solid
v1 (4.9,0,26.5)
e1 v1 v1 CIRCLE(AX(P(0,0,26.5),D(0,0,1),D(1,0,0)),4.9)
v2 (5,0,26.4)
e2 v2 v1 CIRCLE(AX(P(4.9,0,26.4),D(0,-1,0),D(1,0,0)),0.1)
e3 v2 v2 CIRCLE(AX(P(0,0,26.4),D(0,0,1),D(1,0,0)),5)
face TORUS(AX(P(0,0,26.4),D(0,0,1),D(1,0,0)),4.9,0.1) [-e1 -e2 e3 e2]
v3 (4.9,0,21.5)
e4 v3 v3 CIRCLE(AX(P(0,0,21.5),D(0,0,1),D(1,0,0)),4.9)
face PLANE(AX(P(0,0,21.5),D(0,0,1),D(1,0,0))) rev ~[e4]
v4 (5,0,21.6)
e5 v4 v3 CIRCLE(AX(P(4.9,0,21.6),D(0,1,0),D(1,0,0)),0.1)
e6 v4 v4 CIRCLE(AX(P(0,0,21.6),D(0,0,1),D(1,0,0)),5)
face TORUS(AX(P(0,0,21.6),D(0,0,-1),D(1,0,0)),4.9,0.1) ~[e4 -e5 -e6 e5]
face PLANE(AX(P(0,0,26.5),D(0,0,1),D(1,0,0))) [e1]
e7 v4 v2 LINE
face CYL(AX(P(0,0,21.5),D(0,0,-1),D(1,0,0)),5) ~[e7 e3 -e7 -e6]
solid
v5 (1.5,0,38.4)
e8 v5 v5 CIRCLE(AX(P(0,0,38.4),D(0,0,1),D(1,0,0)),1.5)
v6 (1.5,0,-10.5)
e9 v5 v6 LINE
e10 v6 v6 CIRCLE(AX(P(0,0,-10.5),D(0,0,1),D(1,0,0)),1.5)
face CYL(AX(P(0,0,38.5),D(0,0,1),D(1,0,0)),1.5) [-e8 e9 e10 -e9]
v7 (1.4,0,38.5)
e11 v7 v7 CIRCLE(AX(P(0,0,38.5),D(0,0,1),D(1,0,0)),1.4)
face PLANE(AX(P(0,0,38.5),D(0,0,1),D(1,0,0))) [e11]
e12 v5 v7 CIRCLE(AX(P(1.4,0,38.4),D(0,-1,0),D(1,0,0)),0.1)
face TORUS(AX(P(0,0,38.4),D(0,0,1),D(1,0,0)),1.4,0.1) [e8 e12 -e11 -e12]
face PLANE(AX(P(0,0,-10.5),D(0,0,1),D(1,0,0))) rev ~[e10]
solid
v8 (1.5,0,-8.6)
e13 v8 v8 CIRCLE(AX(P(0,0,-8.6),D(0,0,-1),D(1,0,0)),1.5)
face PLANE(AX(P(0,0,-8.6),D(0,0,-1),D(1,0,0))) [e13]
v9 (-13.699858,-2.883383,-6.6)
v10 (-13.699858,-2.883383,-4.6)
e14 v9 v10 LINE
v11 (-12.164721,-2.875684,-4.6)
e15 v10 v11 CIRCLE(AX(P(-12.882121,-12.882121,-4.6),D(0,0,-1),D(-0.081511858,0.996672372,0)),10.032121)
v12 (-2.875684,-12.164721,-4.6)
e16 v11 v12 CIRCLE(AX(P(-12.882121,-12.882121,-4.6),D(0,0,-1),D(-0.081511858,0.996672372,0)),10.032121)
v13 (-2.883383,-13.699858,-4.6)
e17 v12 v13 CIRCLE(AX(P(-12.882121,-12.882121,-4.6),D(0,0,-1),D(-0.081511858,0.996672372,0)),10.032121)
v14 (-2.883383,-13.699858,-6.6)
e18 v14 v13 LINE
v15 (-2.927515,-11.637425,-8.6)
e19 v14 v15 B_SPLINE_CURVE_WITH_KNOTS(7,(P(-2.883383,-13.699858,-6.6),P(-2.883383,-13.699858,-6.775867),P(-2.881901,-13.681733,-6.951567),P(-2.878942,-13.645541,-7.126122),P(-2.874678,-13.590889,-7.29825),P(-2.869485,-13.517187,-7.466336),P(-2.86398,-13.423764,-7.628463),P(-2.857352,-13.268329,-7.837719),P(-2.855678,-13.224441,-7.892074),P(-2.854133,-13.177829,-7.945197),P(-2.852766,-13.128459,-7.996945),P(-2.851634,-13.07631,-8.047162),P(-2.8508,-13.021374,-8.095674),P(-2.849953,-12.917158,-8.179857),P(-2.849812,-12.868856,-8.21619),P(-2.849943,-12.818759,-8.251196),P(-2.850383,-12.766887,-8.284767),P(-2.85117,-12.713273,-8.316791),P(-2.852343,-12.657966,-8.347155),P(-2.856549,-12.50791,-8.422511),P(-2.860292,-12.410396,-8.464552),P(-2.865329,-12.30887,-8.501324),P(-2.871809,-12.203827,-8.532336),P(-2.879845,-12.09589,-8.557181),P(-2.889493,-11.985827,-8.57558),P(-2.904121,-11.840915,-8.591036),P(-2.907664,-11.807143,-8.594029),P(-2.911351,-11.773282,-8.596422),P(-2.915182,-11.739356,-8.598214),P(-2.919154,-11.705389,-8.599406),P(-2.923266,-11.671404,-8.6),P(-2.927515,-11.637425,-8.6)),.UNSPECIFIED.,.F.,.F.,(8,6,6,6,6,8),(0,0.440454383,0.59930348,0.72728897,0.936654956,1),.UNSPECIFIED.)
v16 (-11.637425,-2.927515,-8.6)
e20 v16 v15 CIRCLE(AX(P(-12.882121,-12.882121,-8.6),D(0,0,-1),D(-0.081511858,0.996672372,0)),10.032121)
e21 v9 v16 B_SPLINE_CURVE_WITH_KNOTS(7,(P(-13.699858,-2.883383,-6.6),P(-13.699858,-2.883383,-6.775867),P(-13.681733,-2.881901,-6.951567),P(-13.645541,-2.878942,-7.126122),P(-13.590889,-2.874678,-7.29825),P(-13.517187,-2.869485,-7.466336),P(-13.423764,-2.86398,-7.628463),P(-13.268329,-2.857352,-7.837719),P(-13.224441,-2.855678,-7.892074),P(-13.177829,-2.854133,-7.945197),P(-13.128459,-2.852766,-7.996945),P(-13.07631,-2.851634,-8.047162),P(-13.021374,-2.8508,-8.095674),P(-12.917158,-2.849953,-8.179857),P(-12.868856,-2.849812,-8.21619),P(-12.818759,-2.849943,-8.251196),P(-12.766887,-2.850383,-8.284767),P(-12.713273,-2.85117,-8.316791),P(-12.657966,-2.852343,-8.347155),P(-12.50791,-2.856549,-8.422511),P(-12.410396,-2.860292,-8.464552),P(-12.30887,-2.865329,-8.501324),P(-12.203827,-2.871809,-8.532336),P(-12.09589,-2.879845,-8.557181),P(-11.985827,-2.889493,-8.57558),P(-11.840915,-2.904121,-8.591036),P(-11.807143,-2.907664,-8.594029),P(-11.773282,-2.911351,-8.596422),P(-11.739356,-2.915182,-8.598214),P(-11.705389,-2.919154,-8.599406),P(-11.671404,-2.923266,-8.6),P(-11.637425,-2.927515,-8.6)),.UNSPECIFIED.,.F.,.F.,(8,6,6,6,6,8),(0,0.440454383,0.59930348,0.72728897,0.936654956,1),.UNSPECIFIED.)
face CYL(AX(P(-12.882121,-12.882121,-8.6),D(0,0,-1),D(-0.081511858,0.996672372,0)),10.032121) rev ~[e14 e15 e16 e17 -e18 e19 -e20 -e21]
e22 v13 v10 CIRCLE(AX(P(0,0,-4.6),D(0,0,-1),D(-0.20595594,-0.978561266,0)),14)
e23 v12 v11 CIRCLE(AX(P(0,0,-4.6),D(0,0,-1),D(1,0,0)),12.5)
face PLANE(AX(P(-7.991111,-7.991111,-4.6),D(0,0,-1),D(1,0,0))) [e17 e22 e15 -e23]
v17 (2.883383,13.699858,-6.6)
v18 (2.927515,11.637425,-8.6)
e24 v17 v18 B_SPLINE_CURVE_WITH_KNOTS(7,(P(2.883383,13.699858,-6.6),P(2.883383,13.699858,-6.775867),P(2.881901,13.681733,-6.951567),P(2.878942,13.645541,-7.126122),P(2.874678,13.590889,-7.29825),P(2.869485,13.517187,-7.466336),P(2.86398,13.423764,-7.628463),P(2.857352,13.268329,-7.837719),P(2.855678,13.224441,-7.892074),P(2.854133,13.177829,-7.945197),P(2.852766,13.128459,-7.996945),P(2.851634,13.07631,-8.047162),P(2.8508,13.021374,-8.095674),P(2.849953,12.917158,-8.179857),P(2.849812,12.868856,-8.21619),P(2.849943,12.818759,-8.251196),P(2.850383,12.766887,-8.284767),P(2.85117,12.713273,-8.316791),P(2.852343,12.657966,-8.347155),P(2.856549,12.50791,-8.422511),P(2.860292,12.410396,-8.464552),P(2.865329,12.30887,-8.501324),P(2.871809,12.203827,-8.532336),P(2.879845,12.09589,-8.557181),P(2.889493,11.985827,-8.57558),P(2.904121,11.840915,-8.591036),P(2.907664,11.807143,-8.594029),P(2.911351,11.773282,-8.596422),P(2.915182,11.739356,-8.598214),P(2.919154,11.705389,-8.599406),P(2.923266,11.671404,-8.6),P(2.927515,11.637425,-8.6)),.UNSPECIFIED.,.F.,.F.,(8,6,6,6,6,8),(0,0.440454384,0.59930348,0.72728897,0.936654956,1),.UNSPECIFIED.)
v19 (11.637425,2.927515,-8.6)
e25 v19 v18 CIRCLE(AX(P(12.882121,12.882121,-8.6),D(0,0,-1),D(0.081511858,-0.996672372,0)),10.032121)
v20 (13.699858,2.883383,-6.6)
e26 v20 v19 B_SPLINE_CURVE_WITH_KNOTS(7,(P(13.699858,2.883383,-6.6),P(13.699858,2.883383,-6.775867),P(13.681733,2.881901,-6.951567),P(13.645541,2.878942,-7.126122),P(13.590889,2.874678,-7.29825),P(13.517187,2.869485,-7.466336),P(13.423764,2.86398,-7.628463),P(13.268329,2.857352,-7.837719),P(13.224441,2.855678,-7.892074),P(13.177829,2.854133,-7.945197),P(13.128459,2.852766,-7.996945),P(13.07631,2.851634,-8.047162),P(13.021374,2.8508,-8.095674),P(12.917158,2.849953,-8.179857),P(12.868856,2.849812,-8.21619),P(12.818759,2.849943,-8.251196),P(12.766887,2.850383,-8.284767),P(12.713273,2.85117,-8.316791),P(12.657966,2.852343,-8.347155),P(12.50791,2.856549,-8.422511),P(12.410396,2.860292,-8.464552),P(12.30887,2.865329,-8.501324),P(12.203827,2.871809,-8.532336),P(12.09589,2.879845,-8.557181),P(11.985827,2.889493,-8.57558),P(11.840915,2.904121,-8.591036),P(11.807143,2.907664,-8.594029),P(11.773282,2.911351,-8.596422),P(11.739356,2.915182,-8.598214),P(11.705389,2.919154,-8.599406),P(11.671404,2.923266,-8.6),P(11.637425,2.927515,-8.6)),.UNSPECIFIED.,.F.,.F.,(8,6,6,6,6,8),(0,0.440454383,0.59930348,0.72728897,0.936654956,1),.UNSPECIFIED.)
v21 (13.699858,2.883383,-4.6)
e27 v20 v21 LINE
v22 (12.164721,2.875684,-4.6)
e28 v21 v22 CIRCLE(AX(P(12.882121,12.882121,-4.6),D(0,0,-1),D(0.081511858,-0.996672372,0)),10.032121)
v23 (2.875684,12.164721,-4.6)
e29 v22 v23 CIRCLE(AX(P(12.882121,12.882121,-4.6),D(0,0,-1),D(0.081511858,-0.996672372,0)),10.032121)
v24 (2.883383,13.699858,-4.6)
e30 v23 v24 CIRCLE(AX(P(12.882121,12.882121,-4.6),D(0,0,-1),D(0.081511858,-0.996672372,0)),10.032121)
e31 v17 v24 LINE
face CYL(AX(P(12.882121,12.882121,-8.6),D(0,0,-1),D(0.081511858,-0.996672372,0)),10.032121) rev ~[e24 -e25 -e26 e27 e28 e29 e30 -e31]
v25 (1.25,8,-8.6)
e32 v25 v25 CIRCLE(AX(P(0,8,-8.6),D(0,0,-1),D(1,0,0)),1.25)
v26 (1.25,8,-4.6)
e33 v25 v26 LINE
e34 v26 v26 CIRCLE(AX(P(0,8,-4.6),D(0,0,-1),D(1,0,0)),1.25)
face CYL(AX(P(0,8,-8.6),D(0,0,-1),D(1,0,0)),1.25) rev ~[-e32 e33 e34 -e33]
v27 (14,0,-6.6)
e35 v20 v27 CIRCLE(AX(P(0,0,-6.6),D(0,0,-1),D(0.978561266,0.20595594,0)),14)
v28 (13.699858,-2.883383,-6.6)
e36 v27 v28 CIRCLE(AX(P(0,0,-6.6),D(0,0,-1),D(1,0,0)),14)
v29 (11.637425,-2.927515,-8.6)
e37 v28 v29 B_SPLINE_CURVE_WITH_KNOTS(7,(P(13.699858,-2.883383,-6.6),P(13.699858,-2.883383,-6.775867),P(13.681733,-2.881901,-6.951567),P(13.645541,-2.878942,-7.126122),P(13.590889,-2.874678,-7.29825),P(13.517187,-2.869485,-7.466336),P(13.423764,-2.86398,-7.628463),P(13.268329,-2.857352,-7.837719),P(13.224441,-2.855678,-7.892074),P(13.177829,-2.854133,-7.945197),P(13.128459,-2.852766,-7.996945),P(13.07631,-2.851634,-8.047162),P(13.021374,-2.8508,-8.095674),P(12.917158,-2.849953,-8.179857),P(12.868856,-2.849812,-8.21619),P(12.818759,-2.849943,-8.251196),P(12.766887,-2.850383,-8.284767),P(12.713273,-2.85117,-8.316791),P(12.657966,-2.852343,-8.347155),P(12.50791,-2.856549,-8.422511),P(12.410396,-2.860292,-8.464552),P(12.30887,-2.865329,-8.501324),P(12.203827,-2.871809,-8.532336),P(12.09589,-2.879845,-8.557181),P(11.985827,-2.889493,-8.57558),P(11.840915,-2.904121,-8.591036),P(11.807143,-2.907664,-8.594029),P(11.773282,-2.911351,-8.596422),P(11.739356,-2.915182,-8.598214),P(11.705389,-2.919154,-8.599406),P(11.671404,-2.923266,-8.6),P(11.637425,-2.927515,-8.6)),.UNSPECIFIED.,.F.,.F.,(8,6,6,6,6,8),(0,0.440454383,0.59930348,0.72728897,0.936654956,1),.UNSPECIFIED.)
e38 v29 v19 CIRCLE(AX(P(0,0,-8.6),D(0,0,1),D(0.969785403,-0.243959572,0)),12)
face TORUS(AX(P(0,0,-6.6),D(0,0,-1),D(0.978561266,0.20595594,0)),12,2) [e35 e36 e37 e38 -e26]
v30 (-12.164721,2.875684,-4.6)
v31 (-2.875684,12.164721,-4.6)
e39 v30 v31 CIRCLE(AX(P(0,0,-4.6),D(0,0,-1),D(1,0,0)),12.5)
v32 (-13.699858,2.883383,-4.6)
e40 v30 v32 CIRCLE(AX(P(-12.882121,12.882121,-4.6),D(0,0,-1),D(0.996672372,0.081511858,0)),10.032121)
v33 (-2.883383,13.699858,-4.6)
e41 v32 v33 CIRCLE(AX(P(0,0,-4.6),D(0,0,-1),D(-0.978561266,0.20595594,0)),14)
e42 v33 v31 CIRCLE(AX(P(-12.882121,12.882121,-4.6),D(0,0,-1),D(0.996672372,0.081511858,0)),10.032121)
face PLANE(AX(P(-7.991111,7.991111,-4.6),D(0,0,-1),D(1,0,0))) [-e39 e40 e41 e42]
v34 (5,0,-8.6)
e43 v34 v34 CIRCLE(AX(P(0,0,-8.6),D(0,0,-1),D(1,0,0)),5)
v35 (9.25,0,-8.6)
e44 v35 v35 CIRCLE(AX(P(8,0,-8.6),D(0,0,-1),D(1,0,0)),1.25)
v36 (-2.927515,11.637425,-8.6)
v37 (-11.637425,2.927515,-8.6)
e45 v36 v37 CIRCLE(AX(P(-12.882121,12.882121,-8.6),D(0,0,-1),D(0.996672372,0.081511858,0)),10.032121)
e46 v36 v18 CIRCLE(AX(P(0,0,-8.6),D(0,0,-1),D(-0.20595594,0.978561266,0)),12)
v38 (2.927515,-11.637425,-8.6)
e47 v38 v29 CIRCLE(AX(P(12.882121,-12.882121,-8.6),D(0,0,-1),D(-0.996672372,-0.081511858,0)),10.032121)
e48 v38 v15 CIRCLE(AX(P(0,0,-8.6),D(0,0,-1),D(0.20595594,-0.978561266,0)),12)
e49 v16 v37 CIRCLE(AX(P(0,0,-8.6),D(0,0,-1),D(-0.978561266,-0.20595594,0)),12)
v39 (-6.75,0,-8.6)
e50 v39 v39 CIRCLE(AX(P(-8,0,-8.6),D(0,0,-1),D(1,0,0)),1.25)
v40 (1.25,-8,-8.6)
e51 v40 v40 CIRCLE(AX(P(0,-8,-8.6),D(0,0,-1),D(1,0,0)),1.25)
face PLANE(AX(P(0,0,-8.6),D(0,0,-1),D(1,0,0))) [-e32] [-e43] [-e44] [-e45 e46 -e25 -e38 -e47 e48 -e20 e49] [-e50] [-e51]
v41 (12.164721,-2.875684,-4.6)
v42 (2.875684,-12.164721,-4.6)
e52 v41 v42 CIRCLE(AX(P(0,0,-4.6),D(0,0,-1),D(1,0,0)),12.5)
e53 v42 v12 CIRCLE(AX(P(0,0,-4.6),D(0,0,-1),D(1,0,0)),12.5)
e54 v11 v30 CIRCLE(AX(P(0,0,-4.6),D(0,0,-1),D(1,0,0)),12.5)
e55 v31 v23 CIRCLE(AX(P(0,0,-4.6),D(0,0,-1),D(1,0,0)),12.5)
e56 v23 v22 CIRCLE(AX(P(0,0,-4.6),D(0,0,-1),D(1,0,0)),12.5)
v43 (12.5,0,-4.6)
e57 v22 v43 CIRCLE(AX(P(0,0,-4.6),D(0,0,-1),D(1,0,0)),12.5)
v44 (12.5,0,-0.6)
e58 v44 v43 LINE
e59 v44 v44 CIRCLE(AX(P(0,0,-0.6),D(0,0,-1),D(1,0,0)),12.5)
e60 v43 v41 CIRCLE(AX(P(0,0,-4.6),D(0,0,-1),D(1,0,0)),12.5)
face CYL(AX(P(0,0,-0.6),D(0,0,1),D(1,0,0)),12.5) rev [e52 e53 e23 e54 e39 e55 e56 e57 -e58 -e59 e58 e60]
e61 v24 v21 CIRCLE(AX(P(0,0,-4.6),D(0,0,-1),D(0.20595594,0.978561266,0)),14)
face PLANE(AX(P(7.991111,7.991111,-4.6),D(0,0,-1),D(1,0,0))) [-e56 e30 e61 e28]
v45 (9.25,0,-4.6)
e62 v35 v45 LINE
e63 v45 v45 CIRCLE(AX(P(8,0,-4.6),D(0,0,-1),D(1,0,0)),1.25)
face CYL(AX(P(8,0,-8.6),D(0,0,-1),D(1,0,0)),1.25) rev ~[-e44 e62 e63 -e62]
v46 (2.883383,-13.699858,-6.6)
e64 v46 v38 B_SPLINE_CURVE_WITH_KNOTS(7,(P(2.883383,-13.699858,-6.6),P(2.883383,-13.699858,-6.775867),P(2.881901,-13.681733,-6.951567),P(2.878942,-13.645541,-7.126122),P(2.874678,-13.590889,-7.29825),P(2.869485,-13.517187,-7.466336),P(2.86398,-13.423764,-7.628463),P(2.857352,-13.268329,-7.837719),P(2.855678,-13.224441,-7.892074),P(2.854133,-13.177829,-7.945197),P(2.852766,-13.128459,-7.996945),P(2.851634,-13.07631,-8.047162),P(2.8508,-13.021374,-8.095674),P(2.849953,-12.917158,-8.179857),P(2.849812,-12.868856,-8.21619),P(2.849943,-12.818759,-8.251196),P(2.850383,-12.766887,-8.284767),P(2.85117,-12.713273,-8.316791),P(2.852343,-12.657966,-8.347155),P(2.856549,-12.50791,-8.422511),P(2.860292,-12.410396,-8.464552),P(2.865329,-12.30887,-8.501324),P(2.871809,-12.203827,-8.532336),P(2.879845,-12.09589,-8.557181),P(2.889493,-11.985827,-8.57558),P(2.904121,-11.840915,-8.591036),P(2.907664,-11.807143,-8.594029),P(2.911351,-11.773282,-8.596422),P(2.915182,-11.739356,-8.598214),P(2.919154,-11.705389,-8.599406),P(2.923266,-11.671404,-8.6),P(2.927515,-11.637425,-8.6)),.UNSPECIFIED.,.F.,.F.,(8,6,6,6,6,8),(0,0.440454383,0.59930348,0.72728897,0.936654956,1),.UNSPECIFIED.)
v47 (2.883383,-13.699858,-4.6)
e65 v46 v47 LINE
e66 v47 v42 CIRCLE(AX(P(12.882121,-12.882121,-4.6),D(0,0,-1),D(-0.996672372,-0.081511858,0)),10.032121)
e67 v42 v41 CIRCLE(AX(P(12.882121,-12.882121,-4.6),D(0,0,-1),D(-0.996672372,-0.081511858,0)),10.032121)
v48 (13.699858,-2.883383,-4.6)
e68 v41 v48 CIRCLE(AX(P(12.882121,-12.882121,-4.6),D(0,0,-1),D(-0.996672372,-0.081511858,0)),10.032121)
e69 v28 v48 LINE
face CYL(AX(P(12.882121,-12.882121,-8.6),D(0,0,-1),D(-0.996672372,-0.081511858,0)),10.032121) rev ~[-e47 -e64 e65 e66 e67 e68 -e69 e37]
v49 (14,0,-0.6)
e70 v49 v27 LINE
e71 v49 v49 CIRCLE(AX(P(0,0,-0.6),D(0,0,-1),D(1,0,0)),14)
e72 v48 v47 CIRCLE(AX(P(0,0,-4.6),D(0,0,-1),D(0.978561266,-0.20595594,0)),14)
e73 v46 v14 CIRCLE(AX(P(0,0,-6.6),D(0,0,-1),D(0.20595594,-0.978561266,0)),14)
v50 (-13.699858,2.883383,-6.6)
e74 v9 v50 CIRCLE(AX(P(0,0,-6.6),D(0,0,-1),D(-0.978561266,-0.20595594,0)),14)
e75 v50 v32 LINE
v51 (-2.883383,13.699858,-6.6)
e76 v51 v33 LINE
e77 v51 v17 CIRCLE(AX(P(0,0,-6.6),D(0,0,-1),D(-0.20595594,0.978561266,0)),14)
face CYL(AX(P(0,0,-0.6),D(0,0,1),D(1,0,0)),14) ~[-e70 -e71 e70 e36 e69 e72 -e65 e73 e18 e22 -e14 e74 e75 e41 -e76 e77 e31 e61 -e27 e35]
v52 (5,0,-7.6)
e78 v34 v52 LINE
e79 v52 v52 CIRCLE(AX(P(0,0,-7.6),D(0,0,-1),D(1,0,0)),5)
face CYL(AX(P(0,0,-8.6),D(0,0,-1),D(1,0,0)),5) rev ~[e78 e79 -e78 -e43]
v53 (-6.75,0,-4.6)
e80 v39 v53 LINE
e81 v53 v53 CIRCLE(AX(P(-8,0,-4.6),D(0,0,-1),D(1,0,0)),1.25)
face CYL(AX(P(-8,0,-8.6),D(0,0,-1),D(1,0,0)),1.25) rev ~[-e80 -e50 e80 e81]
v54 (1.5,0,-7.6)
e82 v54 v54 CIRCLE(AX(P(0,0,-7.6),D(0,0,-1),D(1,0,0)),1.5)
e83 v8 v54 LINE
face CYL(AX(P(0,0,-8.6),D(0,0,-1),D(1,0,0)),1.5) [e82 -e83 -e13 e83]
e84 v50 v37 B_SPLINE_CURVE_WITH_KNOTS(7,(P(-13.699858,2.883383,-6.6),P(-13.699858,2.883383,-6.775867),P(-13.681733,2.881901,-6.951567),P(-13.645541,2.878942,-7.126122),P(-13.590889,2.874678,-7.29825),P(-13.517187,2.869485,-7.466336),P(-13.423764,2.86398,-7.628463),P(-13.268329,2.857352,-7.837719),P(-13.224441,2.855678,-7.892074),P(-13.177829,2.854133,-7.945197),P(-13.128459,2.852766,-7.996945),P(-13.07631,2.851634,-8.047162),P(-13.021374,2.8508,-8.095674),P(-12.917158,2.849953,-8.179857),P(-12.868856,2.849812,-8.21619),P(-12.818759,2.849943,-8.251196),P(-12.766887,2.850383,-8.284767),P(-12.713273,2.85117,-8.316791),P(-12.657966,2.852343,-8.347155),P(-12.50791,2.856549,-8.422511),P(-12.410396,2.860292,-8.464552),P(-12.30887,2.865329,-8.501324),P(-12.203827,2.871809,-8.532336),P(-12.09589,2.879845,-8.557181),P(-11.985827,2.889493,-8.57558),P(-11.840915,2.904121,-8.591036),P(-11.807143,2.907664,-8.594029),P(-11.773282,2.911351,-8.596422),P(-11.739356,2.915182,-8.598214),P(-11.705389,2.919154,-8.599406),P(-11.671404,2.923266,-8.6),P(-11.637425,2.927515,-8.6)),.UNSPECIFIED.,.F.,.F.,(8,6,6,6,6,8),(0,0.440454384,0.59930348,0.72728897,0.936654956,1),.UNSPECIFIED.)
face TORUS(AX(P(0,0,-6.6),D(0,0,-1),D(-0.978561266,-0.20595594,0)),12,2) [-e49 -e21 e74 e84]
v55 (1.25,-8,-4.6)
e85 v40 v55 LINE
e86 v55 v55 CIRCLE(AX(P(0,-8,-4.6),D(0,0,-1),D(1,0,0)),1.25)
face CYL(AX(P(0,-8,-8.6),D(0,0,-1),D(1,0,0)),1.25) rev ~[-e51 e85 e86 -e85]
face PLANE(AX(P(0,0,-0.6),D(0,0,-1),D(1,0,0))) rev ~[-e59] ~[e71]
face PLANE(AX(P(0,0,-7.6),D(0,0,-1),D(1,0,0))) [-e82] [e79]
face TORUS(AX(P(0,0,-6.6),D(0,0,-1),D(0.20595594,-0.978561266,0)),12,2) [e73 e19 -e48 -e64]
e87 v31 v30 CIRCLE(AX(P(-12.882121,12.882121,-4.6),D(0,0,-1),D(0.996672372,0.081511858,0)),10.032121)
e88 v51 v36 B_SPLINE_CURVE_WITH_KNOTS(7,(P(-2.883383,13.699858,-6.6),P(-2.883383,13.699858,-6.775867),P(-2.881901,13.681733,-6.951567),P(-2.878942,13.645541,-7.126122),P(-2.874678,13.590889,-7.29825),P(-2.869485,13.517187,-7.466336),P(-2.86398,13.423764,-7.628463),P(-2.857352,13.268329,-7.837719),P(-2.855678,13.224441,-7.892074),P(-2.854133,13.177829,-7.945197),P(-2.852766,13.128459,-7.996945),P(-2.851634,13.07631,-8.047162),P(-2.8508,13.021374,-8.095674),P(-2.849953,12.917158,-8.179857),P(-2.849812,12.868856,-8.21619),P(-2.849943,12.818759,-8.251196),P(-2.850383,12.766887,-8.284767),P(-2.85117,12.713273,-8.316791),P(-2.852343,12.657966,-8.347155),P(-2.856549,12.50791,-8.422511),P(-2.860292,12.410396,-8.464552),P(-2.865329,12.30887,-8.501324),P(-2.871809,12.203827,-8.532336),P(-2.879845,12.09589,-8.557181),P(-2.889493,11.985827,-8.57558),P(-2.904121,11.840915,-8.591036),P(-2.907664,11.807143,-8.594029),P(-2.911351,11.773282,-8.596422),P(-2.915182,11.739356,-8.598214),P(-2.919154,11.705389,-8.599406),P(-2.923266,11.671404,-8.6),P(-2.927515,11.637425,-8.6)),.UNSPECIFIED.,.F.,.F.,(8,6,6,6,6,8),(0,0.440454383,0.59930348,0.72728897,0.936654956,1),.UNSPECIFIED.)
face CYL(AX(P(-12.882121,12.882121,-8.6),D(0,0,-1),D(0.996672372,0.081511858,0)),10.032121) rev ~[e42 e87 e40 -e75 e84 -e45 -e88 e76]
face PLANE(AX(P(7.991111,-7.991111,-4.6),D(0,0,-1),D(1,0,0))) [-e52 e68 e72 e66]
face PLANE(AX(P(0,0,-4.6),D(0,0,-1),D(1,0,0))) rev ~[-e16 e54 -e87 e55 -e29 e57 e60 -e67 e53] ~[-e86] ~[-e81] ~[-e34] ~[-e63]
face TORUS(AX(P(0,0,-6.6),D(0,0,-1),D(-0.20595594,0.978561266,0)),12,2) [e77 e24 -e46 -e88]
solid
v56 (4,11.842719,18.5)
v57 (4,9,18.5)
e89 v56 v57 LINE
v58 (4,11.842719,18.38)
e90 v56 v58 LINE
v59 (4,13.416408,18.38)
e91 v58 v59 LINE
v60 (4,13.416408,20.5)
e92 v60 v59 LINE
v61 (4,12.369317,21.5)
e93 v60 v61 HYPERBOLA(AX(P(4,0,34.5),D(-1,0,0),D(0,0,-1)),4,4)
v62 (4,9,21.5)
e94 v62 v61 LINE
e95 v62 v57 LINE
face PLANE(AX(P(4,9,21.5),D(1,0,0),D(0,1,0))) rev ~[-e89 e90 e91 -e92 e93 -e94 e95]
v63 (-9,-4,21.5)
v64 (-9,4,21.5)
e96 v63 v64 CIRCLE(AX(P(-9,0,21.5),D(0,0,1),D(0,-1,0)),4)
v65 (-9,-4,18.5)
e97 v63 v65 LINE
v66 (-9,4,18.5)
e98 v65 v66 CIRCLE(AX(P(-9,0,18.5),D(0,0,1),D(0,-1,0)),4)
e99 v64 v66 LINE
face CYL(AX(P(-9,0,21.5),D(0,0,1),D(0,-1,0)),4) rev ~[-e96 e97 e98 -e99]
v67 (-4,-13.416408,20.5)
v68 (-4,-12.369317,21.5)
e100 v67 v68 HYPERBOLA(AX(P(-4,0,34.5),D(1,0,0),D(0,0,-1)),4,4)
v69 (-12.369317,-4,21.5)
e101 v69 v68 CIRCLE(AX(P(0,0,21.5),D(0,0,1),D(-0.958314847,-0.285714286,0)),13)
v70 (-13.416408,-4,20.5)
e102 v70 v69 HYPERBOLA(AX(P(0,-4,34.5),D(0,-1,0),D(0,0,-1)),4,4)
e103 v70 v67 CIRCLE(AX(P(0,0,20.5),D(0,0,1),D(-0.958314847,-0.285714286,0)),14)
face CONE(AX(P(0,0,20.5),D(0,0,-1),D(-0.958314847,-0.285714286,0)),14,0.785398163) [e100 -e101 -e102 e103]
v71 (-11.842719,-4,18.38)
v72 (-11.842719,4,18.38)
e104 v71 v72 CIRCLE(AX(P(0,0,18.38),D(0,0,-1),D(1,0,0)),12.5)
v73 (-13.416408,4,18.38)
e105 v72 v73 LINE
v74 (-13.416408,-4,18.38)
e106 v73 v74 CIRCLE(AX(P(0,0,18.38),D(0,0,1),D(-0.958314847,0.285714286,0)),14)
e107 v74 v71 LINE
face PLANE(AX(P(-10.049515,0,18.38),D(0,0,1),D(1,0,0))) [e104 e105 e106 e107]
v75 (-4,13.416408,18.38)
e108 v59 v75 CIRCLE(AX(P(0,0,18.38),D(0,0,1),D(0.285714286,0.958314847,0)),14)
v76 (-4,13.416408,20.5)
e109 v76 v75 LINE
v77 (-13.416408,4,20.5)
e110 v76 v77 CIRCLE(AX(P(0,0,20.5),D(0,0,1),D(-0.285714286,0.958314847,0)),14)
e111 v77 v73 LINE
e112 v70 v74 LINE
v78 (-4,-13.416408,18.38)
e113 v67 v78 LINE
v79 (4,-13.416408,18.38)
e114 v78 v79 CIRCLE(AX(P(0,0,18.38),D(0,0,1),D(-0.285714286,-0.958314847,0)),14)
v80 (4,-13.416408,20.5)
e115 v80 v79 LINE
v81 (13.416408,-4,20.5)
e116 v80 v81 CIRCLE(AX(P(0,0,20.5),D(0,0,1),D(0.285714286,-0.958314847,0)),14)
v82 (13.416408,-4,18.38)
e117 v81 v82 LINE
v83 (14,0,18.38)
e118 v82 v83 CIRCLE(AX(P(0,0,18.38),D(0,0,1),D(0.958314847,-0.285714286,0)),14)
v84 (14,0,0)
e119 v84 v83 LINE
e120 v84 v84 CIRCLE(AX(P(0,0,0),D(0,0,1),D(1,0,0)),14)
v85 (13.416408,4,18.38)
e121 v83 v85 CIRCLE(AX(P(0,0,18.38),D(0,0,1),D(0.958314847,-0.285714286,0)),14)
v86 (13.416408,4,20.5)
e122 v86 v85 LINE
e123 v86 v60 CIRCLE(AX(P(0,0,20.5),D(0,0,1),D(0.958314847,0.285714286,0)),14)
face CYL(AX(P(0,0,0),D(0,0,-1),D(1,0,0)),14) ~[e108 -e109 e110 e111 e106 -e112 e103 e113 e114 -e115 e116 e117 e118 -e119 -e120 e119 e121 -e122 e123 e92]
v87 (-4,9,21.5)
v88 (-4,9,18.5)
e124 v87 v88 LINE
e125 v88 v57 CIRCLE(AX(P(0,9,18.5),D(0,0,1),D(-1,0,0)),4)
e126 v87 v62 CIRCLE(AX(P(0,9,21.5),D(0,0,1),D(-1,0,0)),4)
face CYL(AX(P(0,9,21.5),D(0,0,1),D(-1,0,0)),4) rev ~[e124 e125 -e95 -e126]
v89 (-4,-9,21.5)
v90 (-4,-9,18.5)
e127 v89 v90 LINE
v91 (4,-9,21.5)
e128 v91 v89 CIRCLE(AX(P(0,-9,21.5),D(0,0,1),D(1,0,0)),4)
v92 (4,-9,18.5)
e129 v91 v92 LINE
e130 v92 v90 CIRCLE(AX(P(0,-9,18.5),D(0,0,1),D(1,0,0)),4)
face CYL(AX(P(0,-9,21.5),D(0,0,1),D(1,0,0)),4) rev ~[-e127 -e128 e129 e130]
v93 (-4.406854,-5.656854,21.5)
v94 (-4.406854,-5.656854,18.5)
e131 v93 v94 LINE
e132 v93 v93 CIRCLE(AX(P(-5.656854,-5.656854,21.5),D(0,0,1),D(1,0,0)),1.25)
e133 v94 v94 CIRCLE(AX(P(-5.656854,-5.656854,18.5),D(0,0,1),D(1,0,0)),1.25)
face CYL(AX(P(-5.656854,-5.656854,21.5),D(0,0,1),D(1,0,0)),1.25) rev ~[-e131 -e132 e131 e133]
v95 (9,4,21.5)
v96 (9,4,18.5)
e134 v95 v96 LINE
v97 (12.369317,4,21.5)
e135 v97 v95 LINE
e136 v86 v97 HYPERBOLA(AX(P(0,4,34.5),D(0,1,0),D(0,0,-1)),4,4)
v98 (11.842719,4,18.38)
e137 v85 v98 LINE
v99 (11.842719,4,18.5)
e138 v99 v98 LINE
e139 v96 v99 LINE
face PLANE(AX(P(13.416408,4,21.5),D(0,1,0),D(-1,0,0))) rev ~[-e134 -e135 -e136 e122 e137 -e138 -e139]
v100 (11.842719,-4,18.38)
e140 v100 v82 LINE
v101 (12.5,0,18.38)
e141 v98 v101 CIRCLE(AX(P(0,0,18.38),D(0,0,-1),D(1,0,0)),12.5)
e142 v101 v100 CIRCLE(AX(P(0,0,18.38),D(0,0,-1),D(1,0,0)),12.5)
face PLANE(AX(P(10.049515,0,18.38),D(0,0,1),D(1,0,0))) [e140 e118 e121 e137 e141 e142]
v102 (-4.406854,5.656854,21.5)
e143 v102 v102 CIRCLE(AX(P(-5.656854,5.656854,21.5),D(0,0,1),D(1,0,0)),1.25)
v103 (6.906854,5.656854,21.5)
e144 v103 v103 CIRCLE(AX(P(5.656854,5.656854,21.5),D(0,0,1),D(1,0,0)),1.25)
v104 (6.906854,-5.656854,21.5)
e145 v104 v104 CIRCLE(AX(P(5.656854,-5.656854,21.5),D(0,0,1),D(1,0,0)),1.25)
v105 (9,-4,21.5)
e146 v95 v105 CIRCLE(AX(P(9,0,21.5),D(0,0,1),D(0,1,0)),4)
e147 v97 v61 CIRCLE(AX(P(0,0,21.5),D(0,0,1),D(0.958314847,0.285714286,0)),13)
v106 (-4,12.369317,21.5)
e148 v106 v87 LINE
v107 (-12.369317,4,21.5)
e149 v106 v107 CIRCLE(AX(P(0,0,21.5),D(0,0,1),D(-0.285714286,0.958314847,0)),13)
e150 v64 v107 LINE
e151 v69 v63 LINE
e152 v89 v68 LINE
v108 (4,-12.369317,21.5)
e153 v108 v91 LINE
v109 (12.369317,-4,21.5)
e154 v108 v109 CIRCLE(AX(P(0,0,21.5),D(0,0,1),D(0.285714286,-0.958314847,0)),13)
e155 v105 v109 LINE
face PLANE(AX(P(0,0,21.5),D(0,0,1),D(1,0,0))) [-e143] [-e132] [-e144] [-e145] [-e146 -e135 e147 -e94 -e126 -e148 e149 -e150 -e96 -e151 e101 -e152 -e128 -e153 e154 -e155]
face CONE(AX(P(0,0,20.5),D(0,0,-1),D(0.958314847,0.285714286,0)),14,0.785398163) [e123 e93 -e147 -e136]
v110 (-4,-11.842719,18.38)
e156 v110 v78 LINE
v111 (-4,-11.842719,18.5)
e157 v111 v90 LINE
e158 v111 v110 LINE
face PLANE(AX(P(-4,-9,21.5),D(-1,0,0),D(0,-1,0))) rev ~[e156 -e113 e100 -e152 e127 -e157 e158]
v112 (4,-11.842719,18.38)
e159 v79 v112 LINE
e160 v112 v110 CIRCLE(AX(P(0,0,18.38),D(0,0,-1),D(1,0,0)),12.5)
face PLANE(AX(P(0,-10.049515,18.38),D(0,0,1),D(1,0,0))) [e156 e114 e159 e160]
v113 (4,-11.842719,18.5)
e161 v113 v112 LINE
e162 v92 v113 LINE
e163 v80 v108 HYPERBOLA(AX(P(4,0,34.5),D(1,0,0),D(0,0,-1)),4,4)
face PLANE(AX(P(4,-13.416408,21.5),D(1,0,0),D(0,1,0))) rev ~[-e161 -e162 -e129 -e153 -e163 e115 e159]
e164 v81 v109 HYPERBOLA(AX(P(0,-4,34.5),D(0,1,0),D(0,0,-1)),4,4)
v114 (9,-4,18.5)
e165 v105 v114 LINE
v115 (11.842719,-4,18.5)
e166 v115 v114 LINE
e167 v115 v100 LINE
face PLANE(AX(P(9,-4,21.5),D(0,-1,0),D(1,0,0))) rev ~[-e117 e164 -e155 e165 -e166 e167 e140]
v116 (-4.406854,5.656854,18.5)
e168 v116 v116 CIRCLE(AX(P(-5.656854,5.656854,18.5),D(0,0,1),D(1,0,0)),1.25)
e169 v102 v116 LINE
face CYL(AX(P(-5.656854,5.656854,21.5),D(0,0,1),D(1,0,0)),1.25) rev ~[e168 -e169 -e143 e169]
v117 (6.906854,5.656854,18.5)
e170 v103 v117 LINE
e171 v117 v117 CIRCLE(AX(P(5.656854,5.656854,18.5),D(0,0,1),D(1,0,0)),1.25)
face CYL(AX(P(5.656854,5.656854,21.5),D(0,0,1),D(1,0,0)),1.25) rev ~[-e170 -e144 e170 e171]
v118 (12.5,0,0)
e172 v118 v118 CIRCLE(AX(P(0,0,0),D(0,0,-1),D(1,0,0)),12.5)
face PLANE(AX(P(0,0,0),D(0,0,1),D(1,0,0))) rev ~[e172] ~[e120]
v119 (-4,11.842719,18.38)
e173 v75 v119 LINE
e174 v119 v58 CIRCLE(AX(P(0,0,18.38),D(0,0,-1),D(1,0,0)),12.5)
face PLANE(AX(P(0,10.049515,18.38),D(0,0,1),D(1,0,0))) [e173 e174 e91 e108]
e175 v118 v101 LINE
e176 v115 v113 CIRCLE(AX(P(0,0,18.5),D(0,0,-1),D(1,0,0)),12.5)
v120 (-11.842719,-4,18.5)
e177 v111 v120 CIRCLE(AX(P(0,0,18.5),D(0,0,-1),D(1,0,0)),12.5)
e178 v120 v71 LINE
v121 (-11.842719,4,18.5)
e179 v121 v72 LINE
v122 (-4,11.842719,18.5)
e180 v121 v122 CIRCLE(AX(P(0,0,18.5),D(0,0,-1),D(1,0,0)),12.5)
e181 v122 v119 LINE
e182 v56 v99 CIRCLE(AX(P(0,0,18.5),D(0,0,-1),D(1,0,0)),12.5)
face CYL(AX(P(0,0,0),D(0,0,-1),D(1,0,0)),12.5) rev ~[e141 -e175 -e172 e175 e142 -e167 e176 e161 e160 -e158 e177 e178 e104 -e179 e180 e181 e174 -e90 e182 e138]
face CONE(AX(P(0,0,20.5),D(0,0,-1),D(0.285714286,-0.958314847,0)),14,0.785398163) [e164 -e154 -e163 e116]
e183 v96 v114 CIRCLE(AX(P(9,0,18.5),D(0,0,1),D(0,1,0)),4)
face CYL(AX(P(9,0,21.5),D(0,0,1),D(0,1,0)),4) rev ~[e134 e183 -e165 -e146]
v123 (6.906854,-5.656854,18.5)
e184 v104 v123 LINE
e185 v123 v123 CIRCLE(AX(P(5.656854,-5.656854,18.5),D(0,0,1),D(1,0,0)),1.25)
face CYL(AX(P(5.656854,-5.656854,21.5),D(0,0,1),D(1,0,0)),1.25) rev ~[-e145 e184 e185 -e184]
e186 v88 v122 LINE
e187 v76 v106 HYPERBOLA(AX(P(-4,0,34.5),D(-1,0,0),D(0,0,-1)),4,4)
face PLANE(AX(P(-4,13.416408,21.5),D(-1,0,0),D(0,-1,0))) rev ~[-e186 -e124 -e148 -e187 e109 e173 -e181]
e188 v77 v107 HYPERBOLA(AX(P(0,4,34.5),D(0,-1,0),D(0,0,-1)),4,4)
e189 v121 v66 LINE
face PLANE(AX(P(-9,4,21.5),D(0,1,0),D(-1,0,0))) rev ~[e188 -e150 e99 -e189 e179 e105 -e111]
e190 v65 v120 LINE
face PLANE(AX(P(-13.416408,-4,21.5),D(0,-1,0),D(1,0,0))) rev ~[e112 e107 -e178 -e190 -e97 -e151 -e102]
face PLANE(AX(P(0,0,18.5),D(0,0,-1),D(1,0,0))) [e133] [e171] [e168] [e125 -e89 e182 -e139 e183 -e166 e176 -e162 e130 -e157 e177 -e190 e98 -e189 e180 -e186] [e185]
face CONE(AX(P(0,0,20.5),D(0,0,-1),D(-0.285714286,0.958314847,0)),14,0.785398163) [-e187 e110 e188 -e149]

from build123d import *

# Parameters (mm, degrees)
F0_R      = 14
F1_DEPTH  = 21.5
F2_R      = 5
F3_DEPTH  = 5
F4_R      = 12.5
F5_DEPTH  = 18.5
F7_R      = 1.5
F8_DEPTH  = 49
F10_DEPTH = 3.12
F11_SIZE  = 1
F12_R     = 0.1
F13_R     = 0.1
F14_R     = 14
F14_R_2   = 12.5
F15_DEPTH = 8
F17_R     = 12.5
F17_R_2   = 1.25
F18_DEPTH = 4
F21_DEPTH = 4
F22_R     = 2
F23_R     = 5
F23_R_2   = 1.5
F24_DEPTH = 1
F25_R     = 1.25
F26_DEPTH = 3


with BuildPart() as f1:
    # F0 (on Top) → F1 (new body)
    with BuildSketch(Plane.XY):
        Circle(F0_R)
    extrude(amount=F1_DEPTH)

    # F4 (on face) → F5 (cut)
    with BuildSketch(Plane(origin=(0, 0, 0), x_dir=(1, 0, 0), z_dir=(0, 0, -1))):
        Circle(F4_R)
    extrude(amount=-F5_DEPTH, mode=Mode.SUBTRACT)

    # F9 (on face) → F10 (cut)
    with BuildSketch(Plane.XY.offset(21.5)):
        with BuildLine():
            Line((-4, 13.416407865), (-4, 9))
            ThreePointArc((-4, 9), (0, 5), (4, 9))
            Line((4, 9), (4, 13.416407865))
            ThreePointArc((4, 13.416407865), (0, 14), (-4, 13.416407865))
        make_face()
        with BuildLine():
            Line((-13.416407865, -4), (-9, -4))
            ThreePointArc((-9, -4), (-5, 0), (-9, 4))
            Line((-9, 4), (-13.416407865, 4))
            ThreePointArc((-13.416407865, 4), (-14, 0), (-13.416407865, -4))
        make_face()
        with BuildLine():
            Line((4, -13.416407865), (4, -9))
            ThreePointArc((4, -9), (0, -5), (-4, -9))
            Line((-4, -9), (-4, -13.416407865))
            ThreePointArc((-4, -13.416407865), (0, -14), (4, -13.416407865))
        make_face()
        with BuildLine():
            Line((13.416407865, 4), (9, 4))
            ThreePointArc((9, 4), (5, 0), (9, -4))
            Line((9, -4), (13.416407865, -4))
            ThreePointArc((13.416407865, -4), (14, 0), (13.416407865, 4))
        make_face()
    extrude(amount=-F10_DEPTH, mode=Mode.SUBTRACT)

    # F11
    f11_edges = [f1.edges().sort_by_distance(p)[0] for p in [
        (-9.899495, 9.899495, 21.5),
        (9.899495, 9.899495, 21.5),
        (9.899495, -9.899495, 21.5),
        (-9.899495, -9.899495, 21.5),
    ]]
    chamfer(f11_edges, length=F11_SIZE)

    # F25 (on face) → F26 (cut, through all)
    with BuildSketch(Plane.XY.offset(21.5)):
        with Locations((5.6568542495, 5.6568542495)):
            Circle(F25_R)
        with Locations((-5.6568542495, 5.6568542495)):
            Circle(F25_R)
        with Locations((-5.6568542495, -5.6568542495)):
            Circle(F25_R)
        with Locations((5.6568542495, -5.6568542495)):
            Circle(F25_R)
    extrude(amount=-F26_DEPTH, mode=Mode.SUBTRACT)


with BuildPart() as f3:
    # F2 (on face) → F3 (new body)
    with BuildSketch(Plane.XY.offset(21.5)):
        Circle(F2_R)
    extrude(amount=F3_DEPTH)

    # F13
    f13_edges = [f3.edges().sort_by_distance(p)[0] for p in [
        (-5, 0, 26.5),
        (-5, 0, 21.5),
    ]]
    fillet(f13_edges, radius=F13_R)


with BuildPart() as f8:
    # F7 (on offset) → F8 (new body)
    with BuildSketch(Plane.XY.offset(38.5)):
        Circle(F7_R)
    extrude(amount=-F8_DEPTH)

    # F12
    f12_edges = [f8.edges().sort_by_distance(p)[0] for p in [
        (-1.5, 0, 38.5),
    ]]
    fillet(f12_edges, radius=F12_R)


with BuildPart() as f15:
    # F14 (on face) → F15 (new body)
    with BuildSketch(Plane(origin=(0, 0, 0), x_dir=(1, 0, 0), z_dir=(0, 0, -1))):
        Circle(F14_R)
        Circle(F14_R_2, mode=Mode.SUBTRACT)
    extrude(amount=F15_DEPTH)


with BuildPart() as f15_1:
    # F16: moved
    add(f15.part.moved(Location((0, 0, -0.6))))


with BuildPart() as f18:
    # F17 (on face) → F18 (new body)
    with BuildSketch(Plane(origin=(0, 0, -8.6), x_dir=(1, 0, 0), z_dir=(0, 0, -1))):
        Circle(F17_R)
        with Locations((0, -8)):
            Circle(F17_R_2, mode=Mode.SUBTRACT)
        with Locations((-8, 0)):
            Circle(F17_R_2, mode=Mode.SUBTRACT)
        with Locations((8, 0)):
            Circle(F17_R_2, mode=Mode.SUBTRACT)
        with Locations((0, 8)):
            Circle(F17_R_2, mode=Mode.SUBTRACT)
    extrude(amount=-F18_DEPTH)

    # F19: union F15
    add(f15_1.part)

    # F20 (on face) → F21 (cut)
    with BuildSketch(Plane(origin=(0, 0, -8.6), x_dir=(1, 0, 0), z_dir=(0, 0, -1))):
        with BuildLine():
            ThreePointArc((-2.8833831667, 13.6998577188), (-9.8994949366, 9.8994949366), (-13.6998577188, 2.8833831667))
            ThreePointArc((-13.6998577188, 2.8833831667), (-5.7883401841, 5.7883401841), (-2.8833831667, 13.6998577188))
        make_face()
        with BuildLine():
            ThreePointArc((13.6998577188, 2.8833831667), (9.8994949366, 9.8994949366), (2.8833831667, 13.6998577188))
            ThreePointArc((2.8833831667, 13.6998577188), (5.7883401841, 5.7883401841), (13.6998577188, 2.8833831667))
        make_face()
        with BuildLine():
            ThreePointArc((-2.8833831667, -13.6998577188), (-5.7883401841, -5.7883401841), (-13.6998577188, -2.8833831667))
            ThreePointArc((-13.6998577188, -2.8833831667), (-9.8994949366, -9.8994949366), (-2.8833831667, -13.6998577188))
        make_face()
        with BuildLine():
            ThreePointArc((13.6998577188, -2.8833831667), (5.7883401841, -5.7883401841), (2.8833831667, -13.6998577188))
            ThreePointArc((2.8833831667, -13.6998577188), (9.8994949366, -9.8994949366), (13.6998577188, -2.8833831667))
        make_face()
    extrude(amount=-F21_DEPTH, mode=Mode.SUBTRACT)

    # F22
    f22_edges = [f18.edges().sort_by_distance(p)[0] for p in [
        (-14, 0, -8.6),
        (0, -14, -8.6),
        (13.924762, 1.449481, -8.6),
        (0, 14, -8.6),
        (13.924762, -1.449481, -8.6),
    ]]
    fillet(f22_edges, radius=F22_R)

    # F23 (on face) → F24 (cut)
    with BuildSketch(Plane(origin=(0, 0, -8.6), x_dir=(1, 0, 0), z_dir=(0, 0, -1))):
        Circle(F23_R)
        Circle(F23_R_2, mode=Mode.SUBTRACT)
    extrude(amount=-F24_DEPTH, mode=Mode.SUBTRACT)


solid = Compound([f1.part, f3.part, f8.part, f18.part])
